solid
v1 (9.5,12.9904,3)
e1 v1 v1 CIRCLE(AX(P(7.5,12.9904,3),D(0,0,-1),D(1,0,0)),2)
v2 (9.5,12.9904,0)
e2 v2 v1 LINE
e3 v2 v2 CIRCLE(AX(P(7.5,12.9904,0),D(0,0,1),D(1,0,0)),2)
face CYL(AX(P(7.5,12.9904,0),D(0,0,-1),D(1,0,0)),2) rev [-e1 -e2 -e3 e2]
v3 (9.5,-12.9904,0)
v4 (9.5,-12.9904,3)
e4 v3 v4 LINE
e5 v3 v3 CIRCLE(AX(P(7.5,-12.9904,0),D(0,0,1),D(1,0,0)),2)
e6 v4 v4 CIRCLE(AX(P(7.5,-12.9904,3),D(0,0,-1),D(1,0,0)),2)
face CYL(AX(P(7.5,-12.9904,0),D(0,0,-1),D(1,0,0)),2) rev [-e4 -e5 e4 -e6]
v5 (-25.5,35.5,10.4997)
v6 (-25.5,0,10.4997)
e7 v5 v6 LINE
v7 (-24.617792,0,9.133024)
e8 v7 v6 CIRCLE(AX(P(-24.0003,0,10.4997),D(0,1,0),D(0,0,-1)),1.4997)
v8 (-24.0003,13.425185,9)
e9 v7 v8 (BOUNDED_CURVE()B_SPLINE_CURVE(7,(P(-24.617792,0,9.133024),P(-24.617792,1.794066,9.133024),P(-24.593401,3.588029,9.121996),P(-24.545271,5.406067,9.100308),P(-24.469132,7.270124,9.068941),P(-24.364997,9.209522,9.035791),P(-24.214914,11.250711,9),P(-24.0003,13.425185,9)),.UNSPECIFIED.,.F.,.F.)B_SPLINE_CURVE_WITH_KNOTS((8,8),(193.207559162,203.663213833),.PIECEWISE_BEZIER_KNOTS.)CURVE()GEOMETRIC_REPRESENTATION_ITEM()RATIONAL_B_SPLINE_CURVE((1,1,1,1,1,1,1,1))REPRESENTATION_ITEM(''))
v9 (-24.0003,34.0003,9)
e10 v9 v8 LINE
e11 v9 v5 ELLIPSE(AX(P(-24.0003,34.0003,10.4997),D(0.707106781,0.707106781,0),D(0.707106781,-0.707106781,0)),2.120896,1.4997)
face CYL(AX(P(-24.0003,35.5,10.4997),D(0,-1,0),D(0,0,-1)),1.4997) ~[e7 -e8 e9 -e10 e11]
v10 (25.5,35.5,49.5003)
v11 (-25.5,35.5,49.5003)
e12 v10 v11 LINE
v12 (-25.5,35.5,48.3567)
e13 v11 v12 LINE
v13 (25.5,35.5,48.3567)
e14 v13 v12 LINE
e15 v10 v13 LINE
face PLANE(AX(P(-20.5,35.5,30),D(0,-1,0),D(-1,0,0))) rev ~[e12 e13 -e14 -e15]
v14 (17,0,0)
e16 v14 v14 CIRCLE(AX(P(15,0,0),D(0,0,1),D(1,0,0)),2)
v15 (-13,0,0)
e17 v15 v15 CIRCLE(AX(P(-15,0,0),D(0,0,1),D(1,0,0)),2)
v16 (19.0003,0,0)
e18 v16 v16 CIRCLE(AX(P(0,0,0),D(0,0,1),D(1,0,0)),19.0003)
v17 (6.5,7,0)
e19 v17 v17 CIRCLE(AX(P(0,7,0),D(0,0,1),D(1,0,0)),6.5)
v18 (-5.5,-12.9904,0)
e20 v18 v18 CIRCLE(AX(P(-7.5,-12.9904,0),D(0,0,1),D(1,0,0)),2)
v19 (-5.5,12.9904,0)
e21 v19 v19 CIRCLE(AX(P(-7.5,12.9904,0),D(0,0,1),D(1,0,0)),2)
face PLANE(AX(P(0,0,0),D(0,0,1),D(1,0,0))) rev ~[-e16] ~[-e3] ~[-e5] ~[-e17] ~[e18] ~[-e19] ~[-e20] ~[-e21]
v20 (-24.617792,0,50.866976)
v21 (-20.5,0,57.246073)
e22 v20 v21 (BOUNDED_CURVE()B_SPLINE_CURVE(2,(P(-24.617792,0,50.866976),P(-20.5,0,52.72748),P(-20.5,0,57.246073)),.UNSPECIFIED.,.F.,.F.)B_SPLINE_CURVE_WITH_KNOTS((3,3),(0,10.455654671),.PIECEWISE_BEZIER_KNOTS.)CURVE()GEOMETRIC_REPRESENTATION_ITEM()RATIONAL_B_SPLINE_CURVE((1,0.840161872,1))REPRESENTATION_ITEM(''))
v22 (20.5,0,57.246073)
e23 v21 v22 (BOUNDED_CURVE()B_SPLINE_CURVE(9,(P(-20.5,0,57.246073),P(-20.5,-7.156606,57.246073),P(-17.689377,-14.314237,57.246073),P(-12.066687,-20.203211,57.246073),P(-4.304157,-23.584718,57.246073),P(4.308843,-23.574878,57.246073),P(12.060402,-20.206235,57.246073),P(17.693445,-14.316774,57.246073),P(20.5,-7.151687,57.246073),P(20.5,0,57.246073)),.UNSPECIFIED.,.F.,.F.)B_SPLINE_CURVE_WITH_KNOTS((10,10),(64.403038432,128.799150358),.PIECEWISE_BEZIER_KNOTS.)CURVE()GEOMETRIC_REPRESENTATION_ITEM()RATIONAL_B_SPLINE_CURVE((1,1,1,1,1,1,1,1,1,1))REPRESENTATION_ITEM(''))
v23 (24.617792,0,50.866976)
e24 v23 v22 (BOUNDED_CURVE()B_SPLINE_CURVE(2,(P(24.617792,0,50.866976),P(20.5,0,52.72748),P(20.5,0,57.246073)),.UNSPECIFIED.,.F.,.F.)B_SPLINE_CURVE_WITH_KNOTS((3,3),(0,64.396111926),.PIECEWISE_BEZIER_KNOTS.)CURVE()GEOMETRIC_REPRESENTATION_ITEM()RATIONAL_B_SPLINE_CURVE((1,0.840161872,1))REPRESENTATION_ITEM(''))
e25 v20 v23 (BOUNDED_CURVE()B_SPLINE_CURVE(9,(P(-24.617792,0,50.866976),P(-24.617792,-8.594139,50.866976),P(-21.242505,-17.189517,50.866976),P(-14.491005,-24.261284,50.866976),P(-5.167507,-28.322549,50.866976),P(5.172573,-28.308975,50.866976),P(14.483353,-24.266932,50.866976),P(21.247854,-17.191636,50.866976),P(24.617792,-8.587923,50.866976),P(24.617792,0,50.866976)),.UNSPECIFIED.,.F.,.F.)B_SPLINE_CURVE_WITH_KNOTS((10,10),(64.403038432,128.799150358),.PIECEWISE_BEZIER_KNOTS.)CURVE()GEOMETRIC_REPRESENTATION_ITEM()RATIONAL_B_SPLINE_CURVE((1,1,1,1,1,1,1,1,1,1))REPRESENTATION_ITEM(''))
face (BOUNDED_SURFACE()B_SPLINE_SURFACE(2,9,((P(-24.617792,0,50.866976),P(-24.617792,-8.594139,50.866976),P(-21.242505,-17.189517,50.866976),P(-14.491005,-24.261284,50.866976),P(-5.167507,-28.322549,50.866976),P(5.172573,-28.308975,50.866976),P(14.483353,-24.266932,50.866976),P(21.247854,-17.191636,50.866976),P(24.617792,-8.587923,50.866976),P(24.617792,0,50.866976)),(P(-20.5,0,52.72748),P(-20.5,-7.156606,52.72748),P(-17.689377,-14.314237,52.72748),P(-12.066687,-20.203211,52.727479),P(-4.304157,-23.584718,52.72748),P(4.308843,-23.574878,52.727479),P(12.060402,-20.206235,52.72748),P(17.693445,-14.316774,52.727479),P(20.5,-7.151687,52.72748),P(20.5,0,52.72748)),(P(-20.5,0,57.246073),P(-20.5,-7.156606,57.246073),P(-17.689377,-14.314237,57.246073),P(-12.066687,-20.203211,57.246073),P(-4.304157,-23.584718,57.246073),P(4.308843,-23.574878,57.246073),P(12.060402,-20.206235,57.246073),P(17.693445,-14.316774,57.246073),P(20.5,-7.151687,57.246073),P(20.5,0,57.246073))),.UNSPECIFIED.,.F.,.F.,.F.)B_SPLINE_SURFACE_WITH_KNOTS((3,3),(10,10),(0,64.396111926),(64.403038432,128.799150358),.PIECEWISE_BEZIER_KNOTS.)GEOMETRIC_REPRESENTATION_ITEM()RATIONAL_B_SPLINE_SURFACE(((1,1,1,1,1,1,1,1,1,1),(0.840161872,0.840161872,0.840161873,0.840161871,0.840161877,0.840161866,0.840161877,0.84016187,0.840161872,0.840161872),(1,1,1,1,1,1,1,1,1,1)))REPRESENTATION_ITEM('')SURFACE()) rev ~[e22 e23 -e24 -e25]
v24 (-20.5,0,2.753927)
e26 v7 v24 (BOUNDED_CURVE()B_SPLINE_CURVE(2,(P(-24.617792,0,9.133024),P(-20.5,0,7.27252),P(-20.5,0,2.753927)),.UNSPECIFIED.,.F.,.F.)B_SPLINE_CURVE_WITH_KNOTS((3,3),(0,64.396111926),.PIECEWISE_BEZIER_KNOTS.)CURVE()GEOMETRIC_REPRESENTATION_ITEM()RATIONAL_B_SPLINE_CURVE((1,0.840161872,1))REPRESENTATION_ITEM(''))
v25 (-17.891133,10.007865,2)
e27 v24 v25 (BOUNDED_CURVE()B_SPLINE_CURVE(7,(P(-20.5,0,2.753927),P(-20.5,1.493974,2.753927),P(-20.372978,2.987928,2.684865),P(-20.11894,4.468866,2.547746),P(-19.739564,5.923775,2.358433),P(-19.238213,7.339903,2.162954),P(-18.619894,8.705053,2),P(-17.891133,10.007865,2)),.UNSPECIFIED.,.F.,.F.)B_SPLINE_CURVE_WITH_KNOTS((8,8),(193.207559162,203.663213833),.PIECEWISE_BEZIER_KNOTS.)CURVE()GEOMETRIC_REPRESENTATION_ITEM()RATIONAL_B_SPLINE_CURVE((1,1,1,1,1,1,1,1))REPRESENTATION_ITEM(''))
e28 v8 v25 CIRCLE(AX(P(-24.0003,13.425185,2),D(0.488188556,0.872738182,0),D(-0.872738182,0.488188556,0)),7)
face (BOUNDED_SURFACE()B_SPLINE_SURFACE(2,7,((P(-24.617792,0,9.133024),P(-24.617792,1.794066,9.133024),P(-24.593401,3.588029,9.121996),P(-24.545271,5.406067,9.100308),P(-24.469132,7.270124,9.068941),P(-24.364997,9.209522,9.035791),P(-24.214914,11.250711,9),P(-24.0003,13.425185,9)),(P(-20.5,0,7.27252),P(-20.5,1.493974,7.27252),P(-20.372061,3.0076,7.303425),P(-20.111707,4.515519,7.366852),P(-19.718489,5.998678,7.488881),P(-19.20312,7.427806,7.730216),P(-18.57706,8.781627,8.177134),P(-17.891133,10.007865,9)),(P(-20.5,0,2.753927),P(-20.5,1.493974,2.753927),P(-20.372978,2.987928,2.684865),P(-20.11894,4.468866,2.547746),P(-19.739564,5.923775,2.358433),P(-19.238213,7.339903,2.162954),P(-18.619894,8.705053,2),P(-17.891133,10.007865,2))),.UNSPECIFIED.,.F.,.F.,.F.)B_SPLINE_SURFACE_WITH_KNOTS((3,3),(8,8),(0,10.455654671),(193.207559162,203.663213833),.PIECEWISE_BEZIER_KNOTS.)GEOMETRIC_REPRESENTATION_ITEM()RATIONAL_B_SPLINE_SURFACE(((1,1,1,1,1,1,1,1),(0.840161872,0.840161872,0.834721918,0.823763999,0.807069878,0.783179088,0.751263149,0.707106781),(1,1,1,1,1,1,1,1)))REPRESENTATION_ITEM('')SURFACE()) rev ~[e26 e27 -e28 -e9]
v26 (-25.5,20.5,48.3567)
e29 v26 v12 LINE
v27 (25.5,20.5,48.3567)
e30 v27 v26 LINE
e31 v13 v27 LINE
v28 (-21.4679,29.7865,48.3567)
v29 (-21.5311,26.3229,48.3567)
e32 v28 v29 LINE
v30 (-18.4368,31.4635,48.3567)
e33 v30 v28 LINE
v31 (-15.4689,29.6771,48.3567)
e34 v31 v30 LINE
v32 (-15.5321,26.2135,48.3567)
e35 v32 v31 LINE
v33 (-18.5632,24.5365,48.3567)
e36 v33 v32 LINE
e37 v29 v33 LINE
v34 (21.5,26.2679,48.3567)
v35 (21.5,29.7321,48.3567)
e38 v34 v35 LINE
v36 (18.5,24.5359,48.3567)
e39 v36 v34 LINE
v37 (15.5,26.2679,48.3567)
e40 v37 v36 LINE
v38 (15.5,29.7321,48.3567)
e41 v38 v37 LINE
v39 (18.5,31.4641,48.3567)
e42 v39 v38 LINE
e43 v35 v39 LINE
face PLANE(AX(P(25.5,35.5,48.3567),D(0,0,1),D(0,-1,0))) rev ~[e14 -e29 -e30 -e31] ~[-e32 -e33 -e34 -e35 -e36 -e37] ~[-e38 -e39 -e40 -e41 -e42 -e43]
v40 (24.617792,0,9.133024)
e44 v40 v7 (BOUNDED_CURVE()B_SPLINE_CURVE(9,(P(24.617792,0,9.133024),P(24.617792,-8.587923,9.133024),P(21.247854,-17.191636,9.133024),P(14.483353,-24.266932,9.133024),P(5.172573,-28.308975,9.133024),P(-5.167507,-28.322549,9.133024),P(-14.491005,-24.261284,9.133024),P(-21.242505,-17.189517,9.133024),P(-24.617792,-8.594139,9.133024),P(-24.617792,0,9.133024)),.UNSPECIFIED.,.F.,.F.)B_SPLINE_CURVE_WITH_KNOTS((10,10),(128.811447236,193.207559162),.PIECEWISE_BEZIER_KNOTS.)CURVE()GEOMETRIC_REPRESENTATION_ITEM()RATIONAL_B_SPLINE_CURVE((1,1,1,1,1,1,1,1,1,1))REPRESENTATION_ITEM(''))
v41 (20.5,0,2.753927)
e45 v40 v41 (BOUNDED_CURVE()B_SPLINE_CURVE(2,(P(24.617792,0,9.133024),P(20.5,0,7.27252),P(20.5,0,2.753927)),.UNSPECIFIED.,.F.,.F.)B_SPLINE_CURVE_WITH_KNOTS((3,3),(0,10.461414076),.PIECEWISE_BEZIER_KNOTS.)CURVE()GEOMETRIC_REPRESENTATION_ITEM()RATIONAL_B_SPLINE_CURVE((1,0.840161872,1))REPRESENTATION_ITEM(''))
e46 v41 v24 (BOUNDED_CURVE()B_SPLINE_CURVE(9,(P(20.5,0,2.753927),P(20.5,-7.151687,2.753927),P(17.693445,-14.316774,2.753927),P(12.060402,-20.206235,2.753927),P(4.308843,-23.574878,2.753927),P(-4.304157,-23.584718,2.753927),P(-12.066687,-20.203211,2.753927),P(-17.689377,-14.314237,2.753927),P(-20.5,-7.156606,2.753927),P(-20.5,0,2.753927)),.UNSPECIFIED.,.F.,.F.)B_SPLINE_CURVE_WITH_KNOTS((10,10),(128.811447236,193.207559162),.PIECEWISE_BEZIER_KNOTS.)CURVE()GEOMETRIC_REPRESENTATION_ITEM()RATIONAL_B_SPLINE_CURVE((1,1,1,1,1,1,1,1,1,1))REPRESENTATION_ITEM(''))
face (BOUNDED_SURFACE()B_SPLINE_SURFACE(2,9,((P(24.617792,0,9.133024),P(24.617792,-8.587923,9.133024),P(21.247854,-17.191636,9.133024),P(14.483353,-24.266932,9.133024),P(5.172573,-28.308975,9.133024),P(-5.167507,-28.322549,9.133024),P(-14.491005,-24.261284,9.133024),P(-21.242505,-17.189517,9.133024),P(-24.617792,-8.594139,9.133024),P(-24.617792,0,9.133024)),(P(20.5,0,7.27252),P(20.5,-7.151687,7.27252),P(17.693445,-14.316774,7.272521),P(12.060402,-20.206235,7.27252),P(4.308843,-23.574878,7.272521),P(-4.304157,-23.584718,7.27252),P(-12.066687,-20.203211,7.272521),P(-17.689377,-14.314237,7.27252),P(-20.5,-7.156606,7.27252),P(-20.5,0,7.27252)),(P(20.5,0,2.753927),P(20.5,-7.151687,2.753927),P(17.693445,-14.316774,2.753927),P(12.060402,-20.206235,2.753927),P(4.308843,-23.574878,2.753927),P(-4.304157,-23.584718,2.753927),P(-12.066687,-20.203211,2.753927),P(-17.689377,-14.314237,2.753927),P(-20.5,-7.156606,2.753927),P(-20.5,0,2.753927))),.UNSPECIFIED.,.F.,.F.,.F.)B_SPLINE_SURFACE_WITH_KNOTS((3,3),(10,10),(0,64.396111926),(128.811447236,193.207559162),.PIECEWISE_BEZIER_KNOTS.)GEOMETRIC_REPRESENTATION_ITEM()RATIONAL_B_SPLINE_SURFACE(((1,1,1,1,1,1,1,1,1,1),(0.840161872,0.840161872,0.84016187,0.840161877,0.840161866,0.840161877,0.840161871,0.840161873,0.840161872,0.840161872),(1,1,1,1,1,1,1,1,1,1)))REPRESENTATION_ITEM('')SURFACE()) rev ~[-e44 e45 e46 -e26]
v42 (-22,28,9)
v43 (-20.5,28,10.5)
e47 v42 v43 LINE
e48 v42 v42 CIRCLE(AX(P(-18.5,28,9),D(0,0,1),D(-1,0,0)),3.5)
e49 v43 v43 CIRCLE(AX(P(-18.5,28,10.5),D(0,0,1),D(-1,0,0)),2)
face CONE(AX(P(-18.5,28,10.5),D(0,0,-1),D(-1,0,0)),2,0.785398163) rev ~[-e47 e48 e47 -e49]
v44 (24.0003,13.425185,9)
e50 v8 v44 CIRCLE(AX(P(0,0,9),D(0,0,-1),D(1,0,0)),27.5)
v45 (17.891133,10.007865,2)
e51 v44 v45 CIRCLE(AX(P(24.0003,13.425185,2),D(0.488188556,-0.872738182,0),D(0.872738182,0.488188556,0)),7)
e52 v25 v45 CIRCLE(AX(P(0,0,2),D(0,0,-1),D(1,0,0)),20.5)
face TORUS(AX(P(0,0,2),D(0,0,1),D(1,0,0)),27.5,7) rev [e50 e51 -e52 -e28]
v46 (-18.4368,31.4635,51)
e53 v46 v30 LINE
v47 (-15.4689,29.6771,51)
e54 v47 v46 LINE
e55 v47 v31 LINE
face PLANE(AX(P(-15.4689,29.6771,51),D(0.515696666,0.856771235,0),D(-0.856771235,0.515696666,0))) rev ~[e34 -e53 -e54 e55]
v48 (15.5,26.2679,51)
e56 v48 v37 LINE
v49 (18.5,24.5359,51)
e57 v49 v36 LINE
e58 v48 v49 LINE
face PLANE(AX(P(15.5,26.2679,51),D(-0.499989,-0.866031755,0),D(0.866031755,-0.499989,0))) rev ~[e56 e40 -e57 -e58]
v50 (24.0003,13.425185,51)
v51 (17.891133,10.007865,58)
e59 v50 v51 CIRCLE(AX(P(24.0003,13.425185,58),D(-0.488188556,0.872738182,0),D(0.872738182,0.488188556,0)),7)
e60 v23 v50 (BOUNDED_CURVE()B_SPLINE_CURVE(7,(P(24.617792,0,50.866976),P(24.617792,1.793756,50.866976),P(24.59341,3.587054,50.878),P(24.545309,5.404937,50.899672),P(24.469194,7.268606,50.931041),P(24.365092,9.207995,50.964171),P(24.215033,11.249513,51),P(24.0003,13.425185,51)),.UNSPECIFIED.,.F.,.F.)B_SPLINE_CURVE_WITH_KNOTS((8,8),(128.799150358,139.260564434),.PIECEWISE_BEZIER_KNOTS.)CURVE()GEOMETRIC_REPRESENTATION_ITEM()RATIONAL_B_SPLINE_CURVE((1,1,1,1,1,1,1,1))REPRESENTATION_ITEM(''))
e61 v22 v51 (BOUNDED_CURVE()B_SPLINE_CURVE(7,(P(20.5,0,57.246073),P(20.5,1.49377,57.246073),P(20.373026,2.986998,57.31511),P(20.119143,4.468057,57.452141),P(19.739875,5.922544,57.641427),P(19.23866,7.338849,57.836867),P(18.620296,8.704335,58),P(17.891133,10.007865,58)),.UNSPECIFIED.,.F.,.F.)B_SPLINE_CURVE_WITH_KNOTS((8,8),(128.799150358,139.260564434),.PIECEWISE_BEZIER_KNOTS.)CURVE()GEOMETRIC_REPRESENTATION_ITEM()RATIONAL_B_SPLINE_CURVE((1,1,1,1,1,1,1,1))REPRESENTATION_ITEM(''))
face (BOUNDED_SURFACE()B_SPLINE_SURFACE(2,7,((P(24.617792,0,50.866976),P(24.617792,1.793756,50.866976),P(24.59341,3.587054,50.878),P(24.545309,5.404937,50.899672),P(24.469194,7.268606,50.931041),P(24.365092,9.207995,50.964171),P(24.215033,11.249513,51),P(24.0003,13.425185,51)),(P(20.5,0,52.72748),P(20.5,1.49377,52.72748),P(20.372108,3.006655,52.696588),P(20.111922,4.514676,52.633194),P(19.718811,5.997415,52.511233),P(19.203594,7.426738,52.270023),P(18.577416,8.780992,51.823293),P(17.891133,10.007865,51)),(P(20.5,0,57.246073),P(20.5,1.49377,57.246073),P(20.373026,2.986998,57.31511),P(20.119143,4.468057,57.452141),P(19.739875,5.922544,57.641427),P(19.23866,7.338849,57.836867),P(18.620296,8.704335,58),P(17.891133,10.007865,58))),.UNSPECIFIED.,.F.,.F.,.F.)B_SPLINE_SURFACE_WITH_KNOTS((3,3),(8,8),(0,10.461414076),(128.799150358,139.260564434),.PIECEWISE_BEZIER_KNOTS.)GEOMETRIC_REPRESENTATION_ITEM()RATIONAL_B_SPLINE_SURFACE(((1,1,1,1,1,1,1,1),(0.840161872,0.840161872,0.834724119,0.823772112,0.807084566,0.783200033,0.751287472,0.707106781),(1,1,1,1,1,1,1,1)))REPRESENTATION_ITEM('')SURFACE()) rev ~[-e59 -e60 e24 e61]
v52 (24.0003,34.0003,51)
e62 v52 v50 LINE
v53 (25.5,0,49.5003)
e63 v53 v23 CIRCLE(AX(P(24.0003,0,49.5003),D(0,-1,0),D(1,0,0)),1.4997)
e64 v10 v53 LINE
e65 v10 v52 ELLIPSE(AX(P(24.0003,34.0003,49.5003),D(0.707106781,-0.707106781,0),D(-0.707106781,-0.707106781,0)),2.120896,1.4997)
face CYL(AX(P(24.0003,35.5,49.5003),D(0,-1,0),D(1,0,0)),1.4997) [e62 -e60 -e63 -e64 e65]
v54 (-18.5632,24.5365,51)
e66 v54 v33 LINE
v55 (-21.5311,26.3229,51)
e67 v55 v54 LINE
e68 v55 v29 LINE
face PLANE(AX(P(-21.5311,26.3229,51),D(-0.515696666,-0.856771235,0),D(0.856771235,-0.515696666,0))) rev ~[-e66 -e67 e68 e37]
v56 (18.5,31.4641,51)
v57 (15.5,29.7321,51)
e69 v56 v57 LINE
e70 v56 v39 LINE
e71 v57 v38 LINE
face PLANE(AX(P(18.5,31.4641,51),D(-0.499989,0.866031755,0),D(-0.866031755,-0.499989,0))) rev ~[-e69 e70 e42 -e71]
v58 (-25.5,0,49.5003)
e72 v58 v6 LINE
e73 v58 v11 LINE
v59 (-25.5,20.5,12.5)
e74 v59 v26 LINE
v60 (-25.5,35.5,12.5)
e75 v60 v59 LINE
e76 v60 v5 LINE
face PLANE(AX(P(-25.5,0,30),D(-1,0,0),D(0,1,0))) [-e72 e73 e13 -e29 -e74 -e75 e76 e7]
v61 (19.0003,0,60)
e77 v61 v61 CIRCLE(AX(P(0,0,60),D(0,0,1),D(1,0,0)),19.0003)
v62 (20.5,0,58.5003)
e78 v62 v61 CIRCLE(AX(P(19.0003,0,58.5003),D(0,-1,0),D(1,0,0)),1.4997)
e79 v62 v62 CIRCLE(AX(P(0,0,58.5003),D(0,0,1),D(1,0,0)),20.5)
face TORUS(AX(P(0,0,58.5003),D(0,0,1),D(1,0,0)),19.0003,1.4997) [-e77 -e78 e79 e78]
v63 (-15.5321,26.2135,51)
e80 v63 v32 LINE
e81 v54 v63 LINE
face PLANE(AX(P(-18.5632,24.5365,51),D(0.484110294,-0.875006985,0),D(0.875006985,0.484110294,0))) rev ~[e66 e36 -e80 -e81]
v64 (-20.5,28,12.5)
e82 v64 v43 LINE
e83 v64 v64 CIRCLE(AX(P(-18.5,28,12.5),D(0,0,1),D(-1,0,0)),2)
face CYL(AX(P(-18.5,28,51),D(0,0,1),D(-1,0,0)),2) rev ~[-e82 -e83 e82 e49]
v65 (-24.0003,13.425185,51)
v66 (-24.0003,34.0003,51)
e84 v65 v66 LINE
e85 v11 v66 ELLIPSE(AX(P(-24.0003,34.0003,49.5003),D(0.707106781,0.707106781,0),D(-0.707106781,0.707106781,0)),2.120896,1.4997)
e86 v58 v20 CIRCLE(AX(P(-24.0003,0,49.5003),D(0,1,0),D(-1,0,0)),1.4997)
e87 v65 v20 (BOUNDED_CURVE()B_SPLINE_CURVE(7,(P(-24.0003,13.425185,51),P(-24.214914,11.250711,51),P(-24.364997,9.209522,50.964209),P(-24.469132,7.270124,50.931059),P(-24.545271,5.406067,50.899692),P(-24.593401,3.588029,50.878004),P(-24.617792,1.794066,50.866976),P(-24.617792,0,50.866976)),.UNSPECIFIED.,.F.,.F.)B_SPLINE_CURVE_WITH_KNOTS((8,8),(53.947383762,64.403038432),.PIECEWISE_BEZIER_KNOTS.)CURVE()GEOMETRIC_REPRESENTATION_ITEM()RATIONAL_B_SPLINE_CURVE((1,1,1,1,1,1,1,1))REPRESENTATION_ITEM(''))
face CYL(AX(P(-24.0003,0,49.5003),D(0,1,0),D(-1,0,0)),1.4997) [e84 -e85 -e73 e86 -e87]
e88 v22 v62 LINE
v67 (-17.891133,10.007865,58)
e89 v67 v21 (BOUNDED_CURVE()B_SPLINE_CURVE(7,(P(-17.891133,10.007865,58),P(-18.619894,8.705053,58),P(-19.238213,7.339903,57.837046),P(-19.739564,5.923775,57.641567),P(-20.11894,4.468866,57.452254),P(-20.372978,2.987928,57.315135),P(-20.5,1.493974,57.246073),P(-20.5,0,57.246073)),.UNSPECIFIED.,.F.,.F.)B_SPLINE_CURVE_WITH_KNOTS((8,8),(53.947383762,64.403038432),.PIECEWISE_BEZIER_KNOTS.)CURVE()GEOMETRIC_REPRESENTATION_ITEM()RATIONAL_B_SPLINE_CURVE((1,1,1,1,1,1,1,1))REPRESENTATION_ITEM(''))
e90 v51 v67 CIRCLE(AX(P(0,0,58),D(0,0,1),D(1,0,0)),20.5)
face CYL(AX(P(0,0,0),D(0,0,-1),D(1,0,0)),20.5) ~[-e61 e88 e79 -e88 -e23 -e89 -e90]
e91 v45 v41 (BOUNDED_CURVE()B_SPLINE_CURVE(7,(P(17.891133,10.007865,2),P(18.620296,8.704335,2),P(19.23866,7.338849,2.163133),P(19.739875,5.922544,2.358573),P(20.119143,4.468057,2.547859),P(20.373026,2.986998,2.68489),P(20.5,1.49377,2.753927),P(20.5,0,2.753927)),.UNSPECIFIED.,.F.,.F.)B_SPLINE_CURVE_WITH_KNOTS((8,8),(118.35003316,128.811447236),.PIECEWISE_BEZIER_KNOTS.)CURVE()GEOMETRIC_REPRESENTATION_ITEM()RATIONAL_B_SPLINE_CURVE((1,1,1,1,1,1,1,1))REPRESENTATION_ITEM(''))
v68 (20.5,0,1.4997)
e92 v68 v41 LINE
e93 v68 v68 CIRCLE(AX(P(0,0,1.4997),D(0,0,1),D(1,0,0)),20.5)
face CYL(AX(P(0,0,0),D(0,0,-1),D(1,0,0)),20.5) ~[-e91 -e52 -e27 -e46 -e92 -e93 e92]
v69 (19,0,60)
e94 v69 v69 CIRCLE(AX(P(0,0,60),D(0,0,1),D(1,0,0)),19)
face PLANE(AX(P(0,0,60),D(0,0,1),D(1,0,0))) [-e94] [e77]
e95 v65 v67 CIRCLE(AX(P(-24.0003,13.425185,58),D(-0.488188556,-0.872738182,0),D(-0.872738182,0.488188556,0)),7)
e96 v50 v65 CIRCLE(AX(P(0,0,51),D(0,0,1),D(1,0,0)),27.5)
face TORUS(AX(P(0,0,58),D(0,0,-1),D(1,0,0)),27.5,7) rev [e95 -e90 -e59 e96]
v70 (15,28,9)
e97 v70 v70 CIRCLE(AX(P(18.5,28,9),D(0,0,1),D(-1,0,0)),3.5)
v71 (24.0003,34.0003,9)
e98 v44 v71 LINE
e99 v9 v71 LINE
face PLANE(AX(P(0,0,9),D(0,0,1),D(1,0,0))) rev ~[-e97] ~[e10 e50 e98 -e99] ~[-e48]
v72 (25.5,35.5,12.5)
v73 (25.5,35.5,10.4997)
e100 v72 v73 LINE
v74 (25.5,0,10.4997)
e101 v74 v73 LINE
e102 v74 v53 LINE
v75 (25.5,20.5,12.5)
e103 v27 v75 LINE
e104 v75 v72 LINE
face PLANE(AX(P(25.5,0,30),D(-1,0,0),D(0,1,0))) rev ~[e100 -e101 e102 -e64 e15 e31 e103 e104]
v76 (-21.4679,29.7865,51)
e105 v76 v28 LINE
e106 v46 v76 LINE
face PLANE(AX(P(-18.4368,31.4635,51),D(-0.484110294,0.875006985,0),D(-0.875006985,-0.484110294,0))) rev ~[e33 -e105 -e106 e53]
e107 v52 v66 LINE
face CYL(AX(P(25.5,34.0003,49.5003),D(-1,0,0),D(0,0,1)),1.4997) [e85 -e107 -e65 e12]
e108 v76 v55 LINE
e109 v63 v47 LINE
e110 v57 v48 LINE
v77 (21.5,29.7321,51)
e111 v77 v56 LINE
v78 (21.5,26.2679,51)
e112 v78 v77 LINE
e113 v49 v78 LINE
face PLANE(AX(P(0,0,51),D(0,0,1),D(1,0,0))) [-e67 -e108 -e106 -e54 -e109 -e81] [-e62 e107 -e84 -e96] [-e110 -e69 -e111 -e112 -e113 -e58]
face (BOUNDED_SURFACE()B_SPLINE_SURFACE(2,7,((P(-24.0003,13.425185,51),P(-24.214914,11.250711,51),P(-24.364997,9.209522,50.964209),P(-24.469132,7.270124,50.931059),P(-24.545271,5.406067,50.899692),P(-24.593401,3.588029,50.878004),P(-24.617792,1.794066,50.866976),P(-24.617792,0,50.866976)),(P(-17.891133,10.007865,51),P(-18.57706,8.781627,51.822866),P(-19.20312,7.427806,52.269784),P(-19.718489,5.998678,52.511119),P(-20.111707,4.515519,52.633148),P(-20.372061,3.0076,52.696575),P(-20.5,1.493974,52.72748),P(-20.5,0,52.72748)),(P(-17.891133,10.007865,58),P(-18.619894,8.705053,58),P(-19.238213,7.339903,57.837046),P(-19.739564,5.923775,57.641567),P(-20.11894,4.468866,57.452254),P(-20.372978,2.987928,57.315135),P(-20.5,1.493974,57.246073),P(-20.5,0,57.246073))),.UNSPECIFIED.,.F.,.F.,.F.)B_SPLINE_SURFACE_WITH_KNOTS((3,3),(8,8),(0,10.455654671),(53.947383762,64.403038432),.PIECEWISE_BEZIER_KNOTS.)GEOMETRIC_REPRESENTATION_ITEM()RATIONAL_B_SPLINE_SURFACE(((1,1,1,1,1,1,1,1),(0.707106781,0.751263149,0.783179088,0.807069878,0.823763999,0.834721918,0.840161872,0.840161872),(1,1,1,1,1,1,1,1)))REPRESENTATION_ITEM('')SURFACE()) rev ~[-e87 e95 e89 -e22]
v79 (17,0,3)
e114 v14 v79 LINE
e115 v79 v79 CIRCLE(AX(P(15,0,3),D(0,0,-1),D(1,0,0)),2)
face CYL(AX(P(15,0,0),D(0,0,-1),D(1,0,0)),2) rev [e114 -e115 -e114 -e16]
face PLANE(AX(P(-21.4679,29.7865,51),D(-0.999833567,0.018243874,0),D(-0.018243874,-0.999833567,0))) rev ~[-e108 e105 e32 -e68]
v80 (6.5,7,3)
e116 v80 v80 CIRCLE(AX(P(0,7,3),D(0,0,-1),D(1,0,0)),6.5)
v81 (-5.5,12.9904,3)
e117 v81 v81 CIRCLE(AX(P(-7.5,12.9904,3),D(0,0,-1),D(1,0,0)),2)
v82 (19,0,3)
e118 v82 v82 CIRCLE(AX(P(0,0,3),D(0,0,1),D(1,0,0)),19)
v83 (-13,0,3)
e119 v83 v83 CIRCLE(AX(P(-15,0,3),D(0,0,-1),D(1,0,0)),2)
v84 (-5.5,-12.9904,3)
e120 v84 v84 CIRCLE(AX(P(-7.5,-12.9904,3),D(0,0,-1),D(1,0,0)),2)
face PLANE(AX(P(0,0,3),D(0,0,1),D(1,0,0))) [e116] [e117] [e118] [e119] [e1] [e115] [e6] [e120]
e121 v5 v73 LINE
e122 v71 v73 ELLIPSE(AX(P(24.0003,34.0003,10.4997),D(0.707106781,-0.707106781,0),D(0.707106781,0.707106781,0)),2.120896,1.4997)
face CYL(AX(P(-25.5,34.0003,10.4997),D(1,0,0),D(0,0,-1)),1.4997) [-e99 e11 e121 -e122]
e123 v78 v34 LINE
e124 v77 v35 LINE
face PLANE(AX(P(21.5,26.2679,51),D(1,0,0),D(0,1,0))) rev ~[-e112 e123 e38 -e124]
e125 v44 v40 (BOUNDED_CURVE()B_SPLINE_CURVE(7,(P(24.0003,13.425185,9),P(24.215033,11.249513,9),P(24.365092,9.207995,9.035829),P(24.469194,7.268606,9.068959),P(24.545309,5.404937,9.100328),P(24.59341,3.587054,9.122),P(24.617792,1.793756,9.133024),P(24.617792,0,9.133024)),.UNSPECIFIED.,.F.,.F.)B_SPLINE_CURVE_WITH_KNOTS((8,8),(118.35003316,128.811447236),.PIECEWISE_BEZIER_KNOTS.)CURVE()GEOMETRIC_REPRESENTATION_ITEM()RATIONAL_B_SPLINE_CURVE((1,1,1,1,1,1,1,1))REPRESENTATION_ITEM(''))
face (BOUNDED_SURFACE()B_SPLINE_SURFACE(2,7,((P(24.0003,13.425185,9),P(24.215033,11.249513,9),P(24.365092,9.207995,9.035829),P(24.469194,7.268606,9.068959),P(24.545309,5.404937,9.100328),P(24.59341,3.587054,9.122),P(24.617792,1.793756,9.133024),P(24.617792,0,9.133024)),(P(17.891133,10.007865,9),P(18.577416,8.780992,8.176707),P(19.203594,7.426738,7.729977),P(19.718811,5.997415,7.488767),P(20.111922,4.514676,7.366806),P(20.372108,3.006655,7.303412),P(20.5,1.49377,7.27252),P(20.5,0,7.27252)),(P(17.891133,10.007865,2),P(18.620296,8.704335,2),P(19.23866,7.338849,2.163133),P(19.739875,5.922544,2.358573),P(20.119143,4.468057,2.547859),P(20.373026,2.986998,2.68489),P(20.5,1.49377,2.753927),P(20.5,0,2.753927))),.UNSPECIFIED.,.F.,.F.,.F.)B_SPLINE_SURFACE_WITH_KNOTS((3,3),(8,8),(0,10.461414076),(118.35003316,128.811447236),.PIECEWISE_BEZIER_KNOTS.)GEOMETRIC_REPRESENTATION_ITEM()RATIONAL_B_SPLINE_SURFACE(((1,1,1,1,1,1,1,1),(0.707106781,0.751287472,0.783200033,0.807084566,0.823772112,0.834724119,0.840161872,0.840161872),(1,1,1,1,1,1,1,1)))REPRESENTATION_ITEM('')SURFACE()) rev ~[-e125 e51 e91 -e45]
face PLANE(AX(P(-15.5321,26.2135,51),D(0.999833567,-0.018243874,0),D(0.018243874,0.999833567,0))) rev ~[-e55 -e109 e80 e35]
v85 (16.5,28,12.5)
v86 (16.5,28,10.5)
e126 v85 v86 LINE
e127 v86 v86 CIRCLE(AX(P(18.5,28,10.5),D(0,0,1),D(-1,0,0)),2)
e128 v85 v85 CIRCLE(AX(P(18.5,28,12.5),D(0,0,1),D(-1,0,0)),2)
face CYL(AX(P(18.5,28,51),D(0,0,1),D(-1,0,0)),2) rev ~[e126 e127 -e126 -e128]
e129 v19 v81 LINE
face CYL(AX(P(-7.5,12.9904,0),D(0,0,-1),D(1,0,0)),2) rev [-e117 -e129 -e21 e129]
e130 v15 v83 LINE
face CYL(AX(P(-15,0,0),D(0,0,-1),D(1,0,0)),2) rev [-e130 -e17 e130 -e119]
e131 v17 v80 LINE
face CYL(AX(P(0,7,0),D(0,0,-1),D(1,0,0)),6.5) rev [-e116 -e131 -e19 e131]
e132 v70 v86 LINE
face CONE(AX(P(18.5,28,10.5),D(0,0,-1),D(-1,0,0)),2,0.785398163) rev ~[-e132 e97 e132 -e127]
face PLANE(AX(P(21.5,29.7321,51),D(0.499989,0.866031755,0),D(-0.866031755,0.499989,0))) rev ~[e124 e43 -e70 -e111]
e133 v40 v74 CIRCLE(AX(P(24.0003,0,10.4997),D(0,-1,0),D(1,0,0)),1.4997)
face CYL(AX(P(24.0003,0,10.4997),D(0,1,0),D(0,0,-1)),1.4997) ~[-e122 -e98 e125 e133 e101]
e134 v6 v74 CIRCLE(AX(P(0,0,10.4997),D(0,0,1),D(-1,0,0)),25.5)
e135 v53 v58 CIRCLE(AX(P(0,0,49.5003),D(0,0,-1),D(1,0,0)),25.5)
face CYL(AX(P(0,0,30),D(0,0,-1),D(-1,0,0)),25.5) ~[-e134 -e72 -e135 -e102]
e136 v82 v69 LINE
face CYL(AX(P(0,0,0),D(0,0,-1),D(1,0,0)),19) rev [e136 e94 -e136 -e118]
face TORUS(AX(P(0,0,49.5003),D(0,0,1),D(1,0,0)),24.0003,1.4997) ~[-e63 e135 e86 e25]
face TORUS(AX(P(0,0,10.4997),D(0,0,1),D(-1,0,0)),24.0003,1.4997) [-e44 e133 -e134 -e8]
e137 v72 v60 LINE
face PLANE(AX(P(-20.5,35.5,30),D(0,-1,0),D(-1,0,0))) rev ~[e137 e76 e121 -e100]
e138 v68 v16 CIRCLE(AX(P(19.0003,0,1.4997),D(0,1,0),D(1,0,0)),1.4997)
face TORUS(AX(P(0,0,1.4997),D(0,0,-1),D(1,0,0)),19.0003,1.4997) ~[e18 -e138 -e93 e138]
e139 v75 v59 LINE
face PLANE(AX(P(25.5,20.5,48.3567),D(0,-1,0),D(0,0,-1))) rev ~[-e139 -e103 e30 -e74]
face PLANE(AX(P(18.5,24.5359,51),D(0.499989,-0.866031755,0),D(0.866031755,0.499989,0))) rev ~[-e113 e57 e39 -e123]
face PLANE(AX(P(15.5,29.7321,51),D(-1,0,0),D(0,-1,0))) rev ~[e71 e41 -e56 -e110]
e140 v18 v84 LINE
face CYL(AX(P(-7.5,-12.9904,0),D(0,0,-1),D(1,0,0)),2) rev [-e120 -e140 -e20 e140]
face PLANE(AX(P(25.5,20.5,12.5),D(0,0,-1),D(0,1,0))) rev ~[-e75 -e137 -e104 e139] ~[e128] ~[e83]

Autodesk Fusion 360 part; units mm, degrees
sketch "Esboço1" plane through (0, 0, 0) normal (0, 0, 1) x (1, 0, 0)
  circle A0 centre (0, 0) radius 19
  circle A1 centre (0, 0) radius 20.5
  dimension "d1" = 38
  dimension "d2" = 41
extrude "Extrusão1" add sketch "Esboço1" along normal blind 60
extrude "Extrusão2" add sketch "Esboço1" along normal blind 3 contours A0
sketch "Esboço2" plane through (0, 0, 0) normal (0, 0, 1) x (1, 0, 0)
  circle A0 centre (15, 0) radius 2
  circle A1 centre (7.5, 12.9904) radius 2
  circle A2 centre (-7.5, 12.9904) radius 2
  circle A3 centre (-15, 0) radius 2
  circle A4 centre (-7.5, -12.9904) radius 2
  circle A5 centre (7.5, -12.9904) radius 2
  dimension "d7" = 15
  dimension "d8" = 4
  dimension "d10" = 360
extrude "Extrusão3" cut sketch "Esboço2" along normal blind 11
sketch "Esboço3" plane through (0, 0, 0) normal (0, 0, 1) x (1, 0, 0)
  circle A0 centre (0, 7) radius 6.5
  dimension "d13" = 7
  dimension "d14" = 13
extrude "Extrusão4" cut sketch "Esboço3" along normal blind 24
sketch "Esboço4" plane through (0, 0, 0) normal (0, 0, 1) x (1, 0, 0)
  line L0 (-20.5, 0) -> (-25.5, 0)
  line L1 (-25.5, 0) -> (-25.5, 35.5)
  circle A0 centre (0, 0) radius 20.5
  line L2 (-20.5, 35.5) -> (-25.5, 35.5)
  line L3 (20.5, 0) -> (25.5, 0)
  line L4 (25.5, 0) -> (25.5, 35.5)
  line L5 (25.5, 35.5) -> (20.5, 35.5)
  line L6 (20.5, 35.5) -> (-20.5, 35.5)
  arc A1 (-25.5, 0) -> (25.5, 0) centre (0, 0) ccw
  dimension "d17" = 5
  dimension "d19" = 5
extrude "Extrusão9" add sketch "Esboço4" along normal mid plane 42 from surface at 30 contours L0 A0 L3 A1 | L0 L1 A0 L2 L3 L4 L5 L6
sketch "Esboço5" plane through (25.5, 0, 0) normal (1, 0, 0) x (0, 1, 0)
  line L0 (35.5, 9) -> (35.5, 51)
  line L1 (35.5, 51) -> (0, 51)
  line L2 (0, 51) -> (0, 9)
  line L3 (0, 9) -> (35.5, 9)
  line L4 (35.5, 48.3567) -> (20.5, 48.3567)
  line L5 (20.5, 48.3567) -> (20.5, 12.5)
  line L6 (20.5, 12.5) -> (35.5, 12.5)
  line L7 (35.5, 48.3567) -> (35.5, 12.5)
  dimension "d35" = 15
extrude "Extrusão10" cut sketch "Esboço5" against normal blind 59 contours L0 L4 L5 L6 L7
sketch "Esboço6" plane through (0, 0, 51) normal (0, 0, 1) x (-1, 0, 0)
  circle A0 centre (0, 0) radius 20.5
  arc A1 (25.5, 0) -> (-25.5, 0) centre (0, 0) ccw
  line L0 (-25.5, 0) -> (-25.5, -35.5)
  line L1 (-25.5, -35.5) -> (25.5, -35.5)
  line L2 (25.5, -35.5) -> (25.5, 0)
  circle A2 centre (-18.5, -28) radius 2
  circle A3 centre (18.5, -28) radius 2
  dimension "d42" = 4
  dimension "d43" = 4
extrude "Extrusão11" cut sketch "Esboço6" against normal blind 43 contours A2 | A3
sketch "Esboço7" plane through (0, 0, 51) normal (0, 0, 1) x (-1, 0, 0)
  circle A0 centre (-18.5, -28) radius 2
  circle A1 centre (18.5, -28) radius 2
  circle A2 centre (0, 0) radius 20.5
  arc A3 (25.5, 0) -> (-25.5, 0) centre (0, 0) ccw
  line L0 (-25.5, 0) -> (-25.5, -35.5)
  line L1 (-25.5, -35.5) -> (25.5, -35.5)
  line L2 (25.5, -35.5) -> (25.5, 0)
  line L3 (-15.5, -26.2679) -> (-18.5, -24.5359)
  line L4 (-18.5, -24.5359) -> (-21.5, -26.2679)
  line L5 (-21.5, -26.2679) -> (-21.5, -29.7321)
  line L6 (-21.5, -29.7321) -> (-18.5, -31.4641)
  line L7 (-18.5, -31.4641) -> (-15.5, -29.7321)
  line L8 (-15.5, -29.7321) -> (-15.5, -26.2679)
  line L9 (21.4679, -29.7865) -> (21.5311, -26.3229)
  line L10 (21.5311, -26.3229) -> (18.5632, -24.5365)
  line L11 (18.5632, -24.5365) -> (15.5321, -26.2135)
  line L12 (15.5321, -26.2135) -> (15.4689, -29.6771)
  line L13 (15.4689, -29.6771) -> (18.4368, -31.4635)
  line L14 (18.4368, -31.4635) -> (21.4679, -29.7865)
  point P0 (-18.5, -28)
  point P1 (18.5, -28)
  dimension "d46" = 3
  dimension "d47" = 3
extrude "Extrusão12" cut sketch "Esboço7" against normal blind 2.8 contours L3 L4 L5 L6 L7 L8 | L9 L10 L11 L12 L13 L14
chamfer "Chanfro1" distance 1.5 distance2 1.5 2 edges at (20.3647, 28.7232, 9) (-16.6353, 28.7232, 9) measured on face at (0.5107, 26.232, 9) measured on face at (0.5107, 26.232, 9)
fillet "Arredondamento1" radius 1.5 10 edges at (-25.5, 17.75, 51) (0, -25.5, 51) (25.5, 17.75, 51) (25.5, 17.75, 9) (0, -25.5, 9) (-25.5, 17.75, 9) (0, 35.5, 51) (0, 35.5, 9) (-19.1127, -7.4131, 60) (-19.1127, -7.4131, 0)
fillet "Arredondamento2" radius 7 2 edges at (-19.1127, -7.4131, 51) (-19.1127, 7.4131, 9)
equation "d17 = d19"
equation "d46 = ( ( 5 / 2 ) * 1 mm ) + 0.5 * 1 mm"
equation "d47 = d46"
